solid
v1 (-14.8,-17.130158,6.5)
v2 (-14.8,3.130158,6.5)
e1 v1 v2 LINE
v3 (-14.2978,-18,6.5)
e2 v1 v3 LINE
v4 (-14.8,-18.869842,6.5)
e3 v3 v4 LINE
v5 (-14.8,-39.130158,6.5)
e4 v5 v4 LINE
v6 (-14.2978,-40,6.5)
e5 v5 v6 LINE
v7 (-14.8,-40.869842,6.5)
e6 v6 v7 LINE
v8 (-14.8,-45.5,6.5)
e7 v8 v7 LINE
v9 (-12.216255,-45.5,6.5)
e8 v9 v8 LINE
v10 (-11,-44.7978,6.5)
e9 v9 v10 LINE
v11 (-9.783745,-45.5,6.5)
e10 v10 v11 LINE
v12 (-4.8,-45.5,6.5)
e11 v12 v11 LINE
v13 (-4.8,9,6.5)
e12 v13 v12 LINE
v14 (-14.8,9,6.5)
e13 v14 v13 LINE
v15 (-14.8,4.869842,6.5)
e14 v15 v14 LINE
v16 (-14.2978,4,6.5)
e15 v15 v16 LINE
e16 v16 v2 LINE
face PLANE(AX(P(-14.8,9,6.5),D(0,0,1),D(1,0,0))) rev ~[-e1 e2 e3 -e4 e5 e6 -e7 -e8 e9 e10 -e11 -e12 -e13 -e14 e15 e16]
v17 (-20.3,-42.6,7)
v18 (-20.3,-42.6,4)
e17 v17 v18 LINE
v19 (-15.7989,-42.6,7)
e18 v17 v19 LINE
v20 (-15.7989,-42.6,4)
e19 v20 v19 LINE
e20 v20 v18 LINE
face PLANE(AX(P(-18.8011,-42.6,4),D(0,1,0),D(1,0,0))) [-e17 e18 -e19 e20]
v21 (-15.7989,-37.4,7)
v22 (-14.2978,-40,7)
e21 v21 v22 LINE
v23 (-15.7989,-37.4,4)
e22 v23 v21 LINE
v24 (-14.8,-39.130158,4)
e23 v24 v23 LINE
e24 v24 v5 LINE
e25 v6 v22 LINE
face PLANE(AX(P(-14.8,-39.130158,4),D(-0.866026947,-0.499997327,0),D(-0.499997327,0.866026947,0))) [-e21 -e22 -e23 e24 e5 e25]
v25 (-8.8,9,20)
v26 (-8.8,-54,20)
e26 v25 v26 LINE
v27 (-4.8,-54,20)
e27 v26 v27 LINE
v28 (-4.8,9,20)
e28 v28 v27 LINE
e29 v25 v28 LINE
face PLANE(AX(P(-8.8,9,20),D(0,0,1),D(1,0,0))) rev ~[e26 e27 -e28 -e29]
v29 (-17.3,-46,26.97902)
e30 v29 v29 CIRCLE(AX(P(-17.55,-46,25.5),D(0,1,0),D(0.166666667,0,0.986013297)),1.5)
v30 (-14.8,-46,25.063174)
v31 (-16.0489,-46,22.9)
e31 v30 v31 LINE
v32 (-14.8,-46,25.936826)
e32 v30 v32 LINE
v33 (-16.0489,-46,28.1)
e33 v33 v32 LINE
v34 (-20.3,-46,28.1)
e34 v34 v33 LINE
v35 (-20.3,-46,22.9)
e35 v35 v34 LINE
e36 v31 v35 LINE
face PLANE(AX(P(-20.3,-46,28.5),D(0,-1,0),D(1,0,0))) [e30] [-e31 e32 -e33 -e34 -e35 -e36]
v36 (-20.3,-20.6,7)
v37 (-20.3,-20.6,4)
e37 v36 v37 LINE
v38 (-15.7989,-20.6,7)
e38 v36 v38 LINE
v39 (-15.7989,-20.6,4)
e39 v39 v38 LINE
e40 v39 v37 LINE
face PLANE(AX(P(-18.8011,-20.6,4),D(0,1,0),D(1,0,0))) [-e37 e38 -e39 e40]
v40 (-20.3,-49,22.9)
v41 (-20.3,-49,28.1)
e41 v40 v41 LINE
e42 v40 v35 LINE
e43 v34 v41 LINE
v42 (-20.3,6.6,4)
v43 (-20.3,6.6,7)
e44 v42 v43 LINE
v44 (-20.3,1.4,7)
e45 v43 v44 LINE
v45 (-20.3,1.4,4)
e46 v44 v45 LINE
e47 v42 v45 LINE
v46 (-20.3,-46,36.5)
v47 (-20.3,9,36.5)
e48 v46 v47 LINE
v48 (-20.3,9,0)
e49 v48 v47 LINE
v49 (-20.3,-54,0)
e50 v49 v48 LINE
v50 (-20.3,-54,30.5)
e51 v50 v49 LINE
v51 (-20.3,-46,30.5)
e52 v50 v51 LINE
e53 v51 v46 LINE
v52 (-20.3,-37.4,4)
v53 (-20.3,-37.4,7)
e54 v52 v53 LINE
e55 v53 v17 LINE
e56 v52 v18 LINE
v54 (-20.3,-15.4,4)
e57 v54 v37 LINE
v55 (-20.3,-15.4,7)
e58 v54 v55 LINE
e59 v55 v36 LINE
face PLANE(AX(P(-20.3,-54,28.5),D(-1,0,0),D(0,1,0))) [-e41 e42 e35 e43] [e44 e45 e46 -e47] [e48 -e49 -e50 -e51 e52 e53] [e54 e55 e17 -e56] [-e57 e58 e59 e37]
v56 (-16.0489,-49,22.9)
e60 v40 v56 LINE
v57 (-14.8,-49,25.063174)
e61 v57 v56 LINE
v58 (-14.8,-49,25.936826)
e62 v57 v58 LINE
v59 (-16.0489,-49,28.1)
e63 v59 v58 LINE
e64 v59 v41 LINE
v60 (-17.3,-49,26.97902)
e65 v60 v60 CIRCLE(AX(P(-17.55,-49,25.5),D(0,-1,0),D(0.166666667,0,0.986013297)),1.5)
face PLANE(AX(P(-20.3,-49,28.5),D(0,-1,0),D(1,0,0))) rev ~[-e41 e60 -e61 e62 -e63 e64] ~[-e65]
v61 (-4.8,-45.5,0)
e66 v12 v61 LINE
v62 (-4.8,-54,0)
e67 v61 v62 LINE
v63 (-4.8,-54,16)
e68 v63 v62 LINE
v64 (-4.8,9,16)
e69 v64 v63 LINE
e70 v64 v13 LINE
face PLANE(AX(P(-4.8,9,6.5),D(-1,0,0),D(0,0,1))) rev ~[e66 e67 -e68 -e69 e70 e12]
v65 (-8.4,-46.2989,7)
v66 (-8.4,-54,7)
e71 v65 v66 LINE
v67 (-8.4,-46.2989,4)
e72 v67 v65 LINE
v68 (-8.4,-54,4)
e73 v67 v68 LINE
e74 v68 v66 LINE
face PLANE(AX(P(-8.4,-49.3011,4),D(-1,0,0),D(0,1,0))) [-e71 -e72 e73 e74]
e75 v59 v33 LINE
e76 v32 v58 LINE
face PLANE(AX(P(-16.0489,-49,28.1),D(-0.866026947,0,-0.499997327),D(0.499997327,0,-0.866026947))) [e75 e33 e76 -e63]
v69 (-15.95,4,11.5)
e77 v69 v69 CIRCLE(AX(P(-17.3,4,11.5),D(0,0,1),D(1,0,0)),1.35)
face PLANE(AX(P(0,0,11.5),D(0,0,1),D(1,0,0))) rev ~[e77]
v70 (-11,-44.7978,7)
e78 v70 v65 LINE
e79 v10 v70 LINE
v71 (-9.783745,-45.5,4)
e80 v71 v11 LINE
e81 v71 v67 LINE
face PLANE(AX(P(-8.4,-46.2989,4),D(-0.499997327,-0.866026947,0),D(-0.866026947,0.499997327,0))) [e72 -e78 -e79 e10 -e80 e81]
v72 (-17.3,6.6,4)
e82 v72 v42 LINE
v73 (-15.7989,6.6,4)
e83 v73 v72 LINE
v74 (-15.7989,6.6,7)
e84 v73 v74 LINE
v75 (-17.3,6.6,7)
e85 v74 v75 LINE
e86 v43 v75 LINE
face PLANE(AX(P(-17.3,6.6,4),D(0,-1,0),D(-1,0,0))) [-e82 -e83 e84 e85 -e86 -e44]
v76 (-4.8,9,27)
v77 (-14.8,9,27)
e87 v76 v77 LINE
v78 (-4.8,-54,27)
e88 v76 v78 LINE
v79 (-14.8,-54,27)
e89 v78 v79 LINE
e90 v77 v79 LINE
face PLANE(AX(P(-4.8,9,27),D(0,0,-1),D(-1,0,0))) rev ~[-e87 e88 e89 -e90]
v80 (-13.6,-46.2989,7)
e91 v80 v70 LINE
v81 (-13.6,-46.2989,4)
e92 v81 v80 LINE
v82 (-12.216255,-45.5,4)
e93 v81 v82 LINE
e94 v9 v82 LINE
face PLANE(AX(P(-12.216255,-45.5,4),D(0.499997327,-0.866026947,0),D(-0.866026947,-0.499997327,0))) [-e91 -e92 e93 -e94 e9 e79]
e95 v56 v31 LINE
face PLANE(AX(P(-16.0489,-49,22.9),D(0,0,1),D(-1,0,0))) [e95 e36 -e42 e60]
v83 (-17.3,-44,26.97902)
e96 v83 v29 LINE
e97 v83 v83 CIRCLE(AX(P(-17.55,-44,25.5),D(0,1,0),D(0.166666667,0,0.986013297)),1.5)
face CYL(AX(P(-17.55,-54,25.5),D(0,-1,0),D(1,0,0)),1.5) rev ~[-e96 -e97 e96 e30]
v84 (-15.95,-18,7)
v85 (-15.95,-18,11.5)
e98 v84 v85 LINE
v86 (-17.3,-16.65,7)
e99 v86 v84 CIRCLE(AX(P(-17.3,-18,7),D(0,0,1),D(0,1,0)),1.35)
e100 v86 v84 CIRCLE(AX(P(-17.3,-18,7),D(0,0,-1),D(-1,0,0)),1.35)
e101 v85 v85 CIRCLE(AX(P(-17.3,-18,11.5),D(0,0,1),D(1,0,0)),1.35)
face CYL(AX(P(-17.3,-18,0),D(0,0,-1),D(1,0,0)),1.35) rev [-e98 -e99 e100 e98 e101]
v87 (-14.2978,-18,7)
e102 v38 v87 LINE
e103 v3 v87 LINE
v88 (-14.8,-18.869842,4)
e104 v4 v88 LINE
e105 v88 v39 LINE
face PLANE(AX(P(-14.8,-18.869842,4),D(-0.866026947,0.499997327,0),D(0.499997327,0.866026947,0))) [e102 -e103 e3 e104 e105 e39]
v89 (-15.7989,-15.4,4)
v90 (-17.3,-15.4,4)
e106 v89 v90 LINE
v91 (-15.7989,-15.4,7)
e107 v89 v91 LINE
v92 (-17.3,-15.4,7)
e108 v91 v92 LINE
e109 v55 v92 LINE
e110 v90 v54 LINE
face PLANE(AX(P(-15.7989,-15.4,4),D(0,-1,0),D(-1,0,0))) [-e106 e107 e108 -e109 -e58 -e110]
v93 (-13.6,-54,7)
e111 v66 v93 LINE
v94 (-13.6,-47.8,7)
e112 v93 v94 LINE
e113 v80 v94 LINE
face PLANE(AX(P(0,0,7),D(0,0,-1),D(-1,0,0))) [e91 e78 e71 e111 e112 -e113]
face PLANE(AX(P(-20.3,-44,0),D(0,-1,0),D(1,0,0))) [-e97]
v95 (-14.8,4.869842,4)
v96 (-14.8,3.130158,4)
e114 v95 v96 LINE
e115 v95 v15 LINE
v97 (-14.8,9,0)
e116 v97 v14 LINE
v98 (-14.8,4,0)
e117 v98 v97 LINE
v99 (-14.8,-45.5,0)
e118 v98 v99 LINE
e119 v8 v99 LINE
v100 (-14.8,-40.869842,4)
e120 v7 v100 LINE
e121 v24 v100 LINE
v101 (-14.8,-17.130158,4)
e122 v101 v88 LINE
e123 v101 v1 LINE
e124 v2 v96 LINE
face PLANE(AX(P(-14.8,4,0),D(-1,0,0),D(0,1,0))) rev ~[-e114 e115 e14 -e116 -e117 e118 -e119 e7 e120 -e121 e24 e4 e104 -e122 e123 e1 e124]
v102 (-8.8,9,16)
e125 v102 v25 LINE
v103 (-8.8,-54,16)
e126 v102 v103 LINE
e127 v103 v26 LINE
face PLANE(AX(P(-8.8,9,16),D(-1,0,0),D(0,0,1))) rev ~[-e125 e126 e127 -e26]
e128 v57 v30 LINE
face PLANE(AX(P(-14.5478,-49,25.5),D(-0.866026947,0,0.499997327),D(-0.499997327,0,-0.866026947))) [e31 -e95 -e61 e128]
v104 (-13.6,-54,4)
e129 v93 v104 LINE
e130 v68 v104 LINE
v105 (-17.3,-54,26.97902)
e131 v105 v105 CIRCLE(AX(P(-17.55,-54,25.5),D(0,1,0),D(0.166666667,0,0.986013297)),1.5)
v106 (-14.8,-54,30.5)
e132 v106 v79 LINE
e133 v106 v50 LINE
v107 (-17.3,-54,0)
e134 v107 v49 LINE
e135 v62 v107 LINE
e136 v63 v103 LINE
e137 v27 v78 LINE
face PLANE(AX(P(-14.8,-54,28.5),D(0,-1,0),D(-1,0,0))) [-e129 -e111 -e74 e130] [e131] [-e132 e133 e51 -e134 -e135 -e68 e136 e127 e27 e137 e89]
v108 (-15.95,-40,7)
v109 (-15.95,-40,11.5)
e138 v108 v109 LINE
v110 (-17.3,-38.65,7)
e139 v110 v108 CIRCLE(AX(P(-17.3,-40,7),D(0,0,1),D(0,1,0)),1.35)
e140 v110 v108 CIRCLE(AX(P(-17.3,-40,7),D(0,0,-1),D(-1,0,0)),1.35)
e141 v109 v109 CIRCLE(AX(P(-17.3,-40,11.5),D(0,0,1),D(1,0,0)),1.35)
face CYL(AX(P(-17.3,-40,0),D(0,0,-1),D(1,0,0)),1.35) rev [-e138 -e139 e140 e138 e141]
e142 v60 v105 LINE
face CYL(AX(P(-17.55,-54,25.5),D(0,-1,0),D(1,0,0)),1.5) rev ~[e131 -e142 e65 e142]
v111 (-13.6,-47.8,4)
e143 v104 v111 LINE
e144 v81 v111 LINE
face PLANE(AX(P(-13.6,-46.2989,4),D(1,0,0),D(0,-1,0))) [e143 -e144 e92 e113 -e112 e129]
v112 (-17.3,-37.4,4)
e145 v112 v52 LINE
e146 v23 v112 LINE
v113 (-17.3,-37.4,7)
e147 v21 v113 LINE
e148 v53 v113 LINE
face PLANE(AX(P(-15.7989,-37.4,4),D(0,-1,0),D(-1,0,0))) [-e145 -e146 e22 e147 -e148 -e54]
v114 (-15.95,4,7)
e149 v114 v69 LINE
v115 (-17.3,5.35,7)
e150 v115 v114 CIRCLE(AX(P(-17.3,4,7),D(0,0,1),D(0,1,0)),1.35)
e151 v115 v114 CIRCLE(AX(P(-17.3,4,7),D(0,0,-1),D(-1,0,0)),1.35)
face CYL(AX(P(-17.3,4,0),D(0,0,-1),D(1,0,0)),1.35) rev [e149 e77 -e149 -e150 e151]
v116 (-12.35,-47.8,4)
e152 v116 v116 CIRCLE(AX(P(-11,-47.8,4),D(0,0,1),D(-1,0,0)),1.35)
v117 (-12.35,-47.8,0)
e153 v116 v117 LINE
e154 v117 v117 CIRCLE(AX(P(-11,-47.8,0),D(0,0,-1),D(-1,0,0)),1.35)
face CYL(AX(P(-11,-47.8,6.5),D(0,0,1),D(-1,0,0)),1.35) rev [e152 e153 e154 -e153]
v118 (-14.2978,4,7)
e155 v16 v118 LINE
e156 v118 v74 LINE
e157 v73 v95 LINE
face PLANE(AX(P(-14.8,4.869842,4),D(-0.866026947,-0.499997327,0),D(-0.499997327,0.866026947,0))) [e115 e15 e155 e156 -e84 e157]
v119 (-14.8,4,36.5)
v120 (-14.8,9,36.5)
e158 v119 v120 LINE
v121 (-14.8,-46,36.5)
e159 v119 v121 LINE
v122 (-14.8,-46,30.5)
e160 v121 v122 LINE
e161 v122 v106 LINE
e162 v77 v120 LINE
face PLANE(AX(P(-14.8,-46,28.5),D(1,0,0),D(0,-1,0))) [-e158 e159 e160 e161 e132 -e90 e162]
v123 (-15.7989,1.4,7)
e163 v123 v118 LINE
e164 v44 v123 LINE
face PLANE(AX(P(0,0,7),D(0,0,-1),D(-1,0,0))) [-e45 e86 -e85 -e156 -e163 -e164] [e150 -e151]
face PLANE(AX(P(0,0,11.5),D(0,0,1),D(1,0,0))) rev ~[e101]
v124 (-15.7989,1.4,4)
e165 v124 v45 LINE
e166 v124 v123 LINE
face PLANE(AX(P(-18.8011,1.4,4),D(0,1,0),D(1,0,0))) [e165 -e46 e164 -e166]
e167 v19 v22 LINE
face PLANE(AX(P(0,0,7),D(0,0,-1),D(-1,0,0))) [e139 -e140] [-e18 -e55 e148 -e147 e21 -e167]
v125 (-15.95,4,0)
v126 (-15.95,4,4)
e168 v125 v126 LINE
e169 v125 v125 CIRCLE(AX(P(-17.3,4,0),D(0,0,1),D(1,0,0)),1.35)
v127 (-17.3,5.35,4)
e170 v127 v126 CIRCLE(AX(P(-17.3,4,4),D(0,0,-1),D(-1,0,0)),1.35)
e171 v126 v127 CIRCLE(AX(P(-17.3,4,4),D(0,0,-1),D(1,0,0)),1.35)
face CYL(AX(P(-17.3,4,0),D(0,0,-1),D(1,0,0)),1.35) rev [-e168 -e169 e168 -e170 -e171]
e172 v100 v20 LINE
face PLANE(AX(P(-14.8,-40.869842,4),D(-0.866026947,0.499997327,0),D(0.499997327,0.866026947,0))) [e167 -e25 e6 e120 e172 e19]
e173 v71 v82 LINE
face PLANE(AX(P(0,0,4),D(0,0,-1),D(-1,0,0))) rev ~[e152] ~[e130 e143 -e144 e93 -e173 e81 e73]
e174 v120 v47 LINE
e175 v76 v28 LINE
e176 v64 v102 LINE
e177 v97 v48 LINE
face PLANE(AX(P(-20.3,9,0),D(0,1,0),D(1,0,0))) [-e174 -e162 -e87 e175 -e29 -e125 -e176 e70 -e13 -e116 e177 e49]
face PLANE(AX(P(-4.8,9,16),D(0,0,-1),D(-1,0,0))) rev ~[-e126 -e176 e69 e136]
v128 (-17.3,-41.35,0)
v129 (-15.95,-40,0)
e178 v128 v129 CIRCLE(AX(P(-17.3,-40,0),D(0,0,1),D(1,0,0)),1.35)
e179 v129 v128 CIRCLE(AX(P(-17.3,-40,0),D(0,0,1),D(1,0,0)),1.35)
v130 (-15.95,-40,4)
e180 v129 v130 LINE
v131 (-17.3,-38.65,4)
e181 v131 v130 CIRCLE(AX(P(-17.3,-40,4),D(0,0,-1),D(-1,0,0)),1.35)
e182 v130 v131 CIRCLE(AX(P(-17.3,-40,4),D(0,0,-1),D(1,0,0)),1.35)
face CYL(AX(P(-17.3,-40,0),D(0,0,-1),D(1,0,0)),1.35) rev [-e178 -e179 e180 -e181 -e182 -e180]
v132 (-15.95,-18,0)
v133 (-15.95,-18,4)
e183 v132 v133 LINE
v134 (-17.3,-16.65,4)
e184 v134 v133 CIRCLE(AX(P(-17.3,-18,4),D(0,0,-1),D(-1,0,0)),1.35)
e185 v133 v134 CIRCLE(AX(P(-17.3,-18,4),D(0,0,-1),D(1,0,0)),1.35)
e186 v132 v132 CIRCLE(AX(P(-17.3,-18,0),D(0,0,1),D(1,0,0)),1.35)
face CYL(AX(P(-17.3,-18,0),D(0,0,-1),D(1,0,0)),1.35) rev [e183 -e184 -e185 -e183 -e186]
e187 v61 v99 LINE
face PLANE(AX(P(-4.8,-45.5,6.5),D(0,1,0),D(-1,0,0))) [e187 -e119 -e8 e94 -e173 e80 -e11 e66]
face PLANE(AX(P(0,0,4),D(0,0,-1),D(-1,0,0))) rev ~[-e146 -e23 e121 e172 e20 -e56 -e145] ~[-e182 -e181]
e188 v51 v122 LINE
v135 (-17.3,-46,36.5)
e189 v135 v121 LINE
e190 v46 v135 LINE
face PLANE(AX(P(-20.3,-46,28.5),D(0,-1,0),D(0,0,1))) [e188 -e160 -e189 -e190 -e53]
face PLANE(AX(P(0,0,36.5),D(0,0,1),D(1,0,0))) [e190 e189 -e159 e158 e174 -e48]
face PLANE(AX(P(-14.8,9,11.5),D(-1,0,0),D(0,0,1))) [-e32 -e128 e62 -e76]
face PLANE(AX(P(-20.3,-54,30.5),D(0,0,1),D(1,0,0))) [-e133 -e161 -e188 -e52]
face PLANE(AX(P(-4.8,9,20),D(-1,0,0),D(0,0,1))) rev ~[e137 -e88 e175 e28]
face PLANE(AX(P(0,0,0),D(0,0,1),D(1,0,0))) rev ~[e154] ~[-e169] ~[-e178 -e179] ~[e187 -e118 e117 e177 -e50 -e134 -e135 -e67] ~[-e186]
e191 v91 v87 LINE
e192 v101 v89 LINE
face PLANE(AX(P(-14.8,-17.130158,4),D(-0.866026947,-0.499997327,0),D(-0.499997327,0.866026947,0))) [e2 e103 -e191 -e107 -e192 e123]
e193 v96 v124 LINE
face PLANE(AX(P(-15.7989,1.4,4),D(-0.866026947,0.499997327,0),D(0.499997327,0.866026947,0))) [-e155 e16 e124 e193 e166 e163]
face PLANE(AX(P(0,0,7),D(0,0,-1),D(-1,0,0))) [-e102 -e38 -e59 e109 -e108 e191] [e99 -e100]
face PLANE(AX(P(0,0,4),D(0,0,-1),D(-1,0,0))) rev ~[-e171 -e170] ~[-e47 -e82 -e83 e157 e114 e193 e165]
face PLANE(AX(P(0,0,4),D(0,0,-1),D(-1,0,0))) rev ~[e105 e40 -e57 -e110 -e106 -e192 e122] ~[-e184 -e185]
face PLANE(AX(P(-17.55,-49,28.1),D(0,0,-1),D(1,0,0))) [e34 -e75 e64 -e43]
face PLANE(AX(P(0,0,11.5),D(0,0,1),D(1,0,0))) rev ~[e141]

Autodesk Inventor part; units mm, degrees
ref_plane "Work Plane1" through (0, 0, 0) normal (0, 0, 1) x (1, 0, 0)
sketch "Sketch1" plane through (0, 0, 0) normal (0, 0, 1) x (1, 0, 0)
  circle A0 centre (-17.3, 4) radius 1.35 projected
  circle A1 centre (-17.3, -18) radius 1.35 projected
  circle A2 centre (-17.3, -40) radius 1.35 projected
  line L0 (-17.3, 4) -> (-14.8, 4)
  line L1 (-14.8, 4) -> (-14.8, 9)
  line L2 (-14.8, 9) -> (-20.3, 9)
  line L3 (-17.3, -40) -> (-17.3, -54)
  line L4 (-14.8, 4) -> (-14.8, -54)
  line L5 (-14.8, -54) -> (-17.3, -54)
  line L6 (-17.3, -54) -> (-20.3, -54)
  line L7 (-20.3, -54) -> (-20.3, 9)
  point P0 (0, 0)
  dimension "d0" = 2.5
  dimension "d1" = 5
  dimension "d2" = 5.5
  dimension "d3" = 14
extrude "Extrusion1" add sketch "Sketch1" along normal blind 36.5
sketch "Sketch2" plane through (-20.3, -54, 0) normal (0, -1, 0) x (1, 0, 0)
  line L0 (0, 0) -> (5.5, 0) projected
  line L1 (5.5, 0) -> (5.5, 36.5) projected
  line L2 (0, 36.5) -> (5.5, 36.5) projected
  line L3 (0, 0) -> (0, 36.5) projected
  line L4 (2.75, 36.5) -> (2.75, 25.5)
  circle A0 centre (2.75, 25.5) radius 1.5
  point P0 (20.3, 0)
  dimension "d6" = 11
  dimension "d7" = 3
extrude "Extrusion2" cut sketch "Sketch2" against normal blind 10 contours A0
sketch "Sketch3" plane through (-20.3, -54, 0) normal (-1, 0, 0) x (0, 0, 1)
  line L0 (0, 63) -> (0, 0) projected
  line L1 (0, 0) -> (36.5, 0) projected
  line L2 (36.5, 63) -> (36.5, 0) projected
  line L3 (0, 63) -> (36.5, 63) projected
  line L4 (0, 0) -> (36.5, 0) projected
  line L5 (36.5, 0) -> (28.5, 0)
  line L6 (28.5, 0) -> (28.5, 8)
  line L7 (28.5, 8) -> (36.5, 8)
  line L8 (36.5, 8) -> (36.5, 0)
  point P0 (0, 54)
  dimension "d10" = 8
  dimension "d11" = 8
extrude "Extrusion3" cut sketch "Sketch3" against normal blind 10 contours L6 L7 L2 L1
sketch "Sketch4" plane through (-20.3, 9, 0) normal (0, 1, 0) x (1, 0, 0)
  line L0 (5.5, 0) -> (0, 0) projected
  line L1 (0, 0) -> (0, -36.5) projected
  line L2 (5.5, -36.5) -> (0, -36.5) projected
  line L3 (5.5, 0) -> (5.5, -36.5) projected
  line L4 (6.8, -6) -> (8.8, -6) projected
  line L5 (6.8, -6) -> (5.5, -6)
  line L6 (5.5, -6) -> (5.5, -6.5)
  line L7 (5.5, 0) -> (5.5, -28.5) projected
  line L8 (5.5, -6.5) -> (15.5, -6.5)
  line L9 (15.5, -6.5) -> (15.5, -11.5)
  line L10 (15.5, -11.5) -> (5.5, -11.5)
  line L11 (5.5, -11.5) -> (5.5, -6.5)
  point P0 (20.3, 0)
  dimension "d14" = 0.5
  dimension "d15" = 10
  dimension "d16" = 5
extrude "Extrusion4" add sketch "Sketch4" against normal up to surface (63 mm away) contours L8 L9 L10 L3
sketch "Sketch5" plane through (-4.8, 9, 6.5) normal (0, 0, -1) x (-1, 0, 0)
  circle A0 centre (12.5, -49) radius 1.35 projected
  circle A1 centre (12.5, -27) radius 1.35 projected
  circle A2 centre (12.5, -5) radius 1.35 projected
  line L0 (10, -63) -> (10, 0) projected
  line L1 (15.5, -63) -> (10, -63) projected
  line L2 (15.5, 0) -> (15.5, -63) projected
  line L3 (10, 0) -> (15.5, 0) projected
  line L4 (0, -63) -> (10, -63) projected
  line L5 (10, 0) -> (10, -63) projected
  line L6 (0, 0) -> (10, 0) projected
  line L7 (0, 0) -> (0, -63) projected
  line L8 (-19.8, 5.5) -> (-16.3, 5.5) projected
  line L9 (-19.8, 5.5) -> (-24.9, -0.5) projected
  line L10 (-24.9, -0.5) -> (-24.9, -53.6) projected
  line L11 (-24.9, -53.6) -> (-19.8, -59.6) projected
  line L12 (-19.8, -59.6) -> (10.2, -59.6) projected
  line L13 (10.2, -59.6) -> (15.3, -53.6) projected
  line L14 (15.3, -53.6) -> (15.3, -0.5) projected
  line L15 (15.3, -0.5) -> (10.2, 5.5) projected
  line L16 (6.7, 5.5) -> (10.2, 5.5) projected
  arc A3 (9.7, 2.5) -> (6.7, 5.5) centre (6.7, 2.5) ccw projected
  line L17 (9.7, -51) -> (9.7, 2.5) projected
  arc A4 (6.7, -54) -> (9.7, -51) centre (6.7, -51) ccw projected
  line L18 (-16.3, -54) -> (6.7, -54) projected
  arc A5 (-19.3, -51) -> (-16.3, -54) centre (-16.3, -51) ccw projected
  line L19 (-19.3, 2.5) -> (-19.3, -51) projected
  arc A6 (-16.3, 5.5) -> (-19.3, 2.5) centre (-16.3, 2.5) ccw projected
  circle A7 centre (12.5, -5) radius 1.35 projected
  circle A8 centre (12.5, -27) radius 1.35 projected
  circle A9 centre (12.5, -49) radius 1.35 projected
  circle A10 centre (6.2, -56.8) radius 1.35 projected
  circle A11 centre (-22.1, -5) radius 1.35 projected
  circle A12 centre (-22.1, -27) radius 1.35 projected
  circle A13 centre (-22.1, -49) radius 1.35 projected
  circle A14 centre (-15.8, -56.8) radius 1.35 projected
  line L20 (10, 0) -> (10, -63) projected
  line L21 (10, -63) -> (0, -63)
  line L22 (0, -63) -> (0, -54.5)
  line L23 (0, -54.5) -> (10, -54.5)
  line L24 (10, -54.5) -> (10, -63)
  point P0 (-4.8, -9)
  dimension "d19" = 10
  dimension "d20" = 8.5
extrude "Extrusion5" add sketch "Sketch5" along normal up to surface (6.5 mm away) contours L0 L12 L7 L23 | L0 L4 L7 L12
ref_plane "Work Plane2" through (0, 0, 4) normal (0, 0, -1) x (-1, 0, 0)
sketch "Sketch6" plane through (0, 0, 4) normal (0, 0, -1) x (-1, 0, 0)
  circle A0 centre (17.3, 4) radius 1.35 projected
  circle A1 centre (17.3, -18) radius 1.35 projected
  circle A2 centre (11, -47.8) radius 1.35 projected
  circle A3 centre (17.3, -40) radius 1.35 projected
  circle A4 centre (17.3, -18) radius 1.35 projected
  circle A5 centre (17.3, 4) radius 1.35 projected
  line L0 (20.3, -54) -> (4.8, -54) projected
  line L1 (20.3, 9) -> (20.3, -54) projected
  line L2 (14.8, 9) -> (20.3, 9) projected
  line L3 (14.8, -45.5) -> (14.8, 9) projected
  line L4 (14.8, -45.5) -> (4.8, -45.5) projected
  line L5 (4.8, -45.5) -> (4.8, -54) projected
  circle A6 centre (11, -47.8) radius 1.35 projected
  circle A7 centre (11, -47.8) radius 1.35 projected
  line L6 (17.3, 4) -> (17.3, 6.6)
  line L7 (18.8011, 6.6) -> (20.3022, 4)
  line L8 (20.3022, 4) -> (18.8011, 1.4)
  line L9 (18.8011, 1.4) -> (15.7989, 1.4)
  line L10 (15.7989, 1.4) -> (14.2978, 4)
  line L11 (14.2978, 4) -> (15.7989, 6.6)
  line L12 (15.7989, 6.6) -> (18.8011, 6.6)
  line L13 (18.8011, 1.4) -> (28.5961, 1.4)
  line L14 (28.5961, 1.4) -> (28.5961, 6.6)
  line L15 (28.5961, 6.6) -> (18.8011, 6.6)
  line L16 (18.8011, 6.6) -> (18.8011, 1.4)
  line L17 (11, -47.8) -> (13.6, -47.8)
  line L18 (13.6, -49.3011) -> (11, -50.8022)
  line L19 (11, -50.8022) -> (8.4, -49.3011)
  line L20 (8.4, -49.3011) -> (8.4, -46.2989)
  line L21 (8.4, -46.2989) -> (11, -44.7978)
  line L22 (11, -44.7978) -> (13.6, -46.2989)
  line L23 (13.6, -46.2989) -> (13.6, -49.3011)
  line L24 (13.6, -49.3011) -> (8.4, -49.3011)
  line L25 (8.4, -49.3011) -> (8.4, -56.2377)
  line L26 (8.4, -56.2377) -> (13.6, -56.2377)
  line L27 (13.6, -56.2377) -> (13.6, -49.3011)
  line L28 (18.8011, -15.4) -> (20.3022, -18)
  line L29 (20.3022, -18) -> (18.8011, -20.6)
  line L30 (18.8011, -20.6) -> (28.5961, -20.6)
  line L31 (28.5961, -20.6) -> (28.5961, -15.4)
  line L32 (28.5961, -15.4) -> (18.8011, -15.4)
  line L33 (18.8011, -15.4) -> (18.8011, -20.6)
  line L34 (17.3, -18) -> (17.3, -15.4)
  line L35 (18.8011, -20.6) -> (15.7989, -20.6)
  line L36 (15.7989, -15.4) -> (18.8011, -15.4)
  line L37 (15.7989, -20.6) -> (14.2978, -18)
  line L38 (14.2978, -18) -> (15.7989, -15.4)
  line L39 (18.8011, -37.4) -> (20.3022, -40)
  line L40 (20.3022, -40) -> (18.8011, -42.6)
  line L41 (18.8011, -42.6) -> (28.5961, -42.6)
  line L42 (28.5961, -42.6) -> (28.5961, -37.4)
  line L43 (28.5961, -37.4) -> (18.8011, -37.4)
  line L44 (18.8011, -37.4) -> (18.8011, -42.6)
  line L45 (17.3, -40) -> (17.3, -37.4)
  line L46 (18.8011, -42.6) -> (15.7989, -42.6)
  line L47 (15.7989, -37.4) -> (18.8011, -37.4)
  line L48 (15.7989, -42.6) -> (14.2978, -40)
  line L49 (14.2978, -40) -> (15.7989, -37.4)
  point P0 (0, 0)
  dimension "d24" = 2.6
  dimension "d25" = 2.6
  dimension "d28" = 22
extrude "Extrusion6" cut sketch "Sketch6" against normal blind 3 contours L12 L16 L9 L10 L3 L11 | L15 L1 L7 | L7 L8 L16 | L3 L10 L11 | L1 L15 L14 L13 | L1 L13 L8 | L38 L36 L33 L35 L37 L3 | L3 L37 L38 | L32 L31 L30 L1 | L1 L28 L32 | L29 L33 L28 | L1 L30 L29 | L49 L47 L44 L46 L48 L3 | L3 L48 L49 | L43 L42 L41 L1 | L1 L39 L43 | L40 L44 L39 | L1 L41 L40 | A2 | L22 L23 L24 L20 L21 L4 | L4 L21 L22 | L27 L26 L25 L0 | L0 L25 L19 L18 L27 | L24 L18 L19
sketch "Sketch7" plane through (0, 0, 36.5) normal (0, 0, 1) x (1, 0, 0)
  line L0 (-20.3, -46) -> (-14.8, -46) projected
  line L1 (-14.8, -46) -> (-14.8, 9) projected
  line L2 (-14.8, 9) -> (-20.3, 9) projected
  line L3 (-20.3, 9) -> (-20.3, -46) projected
  circle A0 centre (-17.3, 4) radius 1.35 projected
  circle A1 centre (-17.3, -18) radius 1.35 projected
  circle A2 centre (-17.3, -40) radius 1.35 projected
  point P0 (0, 0)
extrude "Extrusion7" add sketch "Sketch7" against normal blind 25 contours A0 | A1 | A2
ref_plane "Work Plane3" through (-20.3, -49, 28.5) normal (0, -1, 0) x (1, 0, 0)
sketch "Sketch8" plane through (-20.3, -49, 28.5) normal (0, -1, 0) x (1, 0, 0)
  circle A0 centre (2.75, -3) radius 1.5 projected
  line L0 (2.75, -3) -> (2.75, -0.4)
  line L1 (4.2511, -0.4) -> (5.7522, -3)
  line L2 (5.7522, -3) -> (4.2511, -5.6)
  line L3 (4.2511, -5.6) -> (1.2489, -5.6)
  line L4 (1.2489, -5.6) -> (-0.2522, -3)
  line L5 (-0.2522, -3) -> (1.2489, -0.4)
  line L6 (1.2489, -0.4) -> (4.2511, -0.4)
  line L7 (1.2489, -0.4) -> (-2.7612, -0.4)
  line L8 (-2.7612, -0.4) -> (-2.7612, -5.6)
  line L9 (-2.7612, -5.6) -> (1.2489, -5.6)
  line L10 (1.2489, -5.6) -> (1.2489, -0.4)
  point P0 (20.3, -28.5)
  dimension "d38" = 2.6
extrude "Extrusion8" cut sketch "Sketch8" against normal blind 3 contours A0 L0 L6 L1 L2 L3 L10 | A0 L10 L6 L0 | L10 L4 L5 | L9 L8 L7 L5 L4
sketch "Sketch9" plane through (-20.3, 9, 0) normal (0, 1, 0) x (1, 0, 0)
  line L0 (5.5, 0) -> (0, 0) projected
  line L1 (0, 0) -> (0, -36.5) projected
  line L2 (5.5, -36.5) -> (0, -36.5) projected
  line L3 (5.5, -11.5) -> (5.5, -36.5) projected
  line L4 (5.5, -11.5) -> (15.5, -11.5) projected
  line L5 (15.5, -11.5) -> (15.5, -6.5) projected
  line L6 (15.5, -6.5) -> (5.5, -6.5) projected
  line L7 (5.5, 0) -> (5.5, -6.5) projected
  line L8 (5.5, -11.5) -> (15.5, -11.5) projected
  line L9 (5.5, -11.5) -> (5.5, -28.5) projected
  line L10 (15.5, -11.5) -> (5.5, -11.5)
  line L11 (5.5, -20) -> (15.5, -20)
  line L12 (5.5, -20) -> (11.5, -20)
  line L13 (5.5, -24) -> (5.5, -20)
  line L14 (15.5, -24) -> (15.5, -27)
  line L15 (15.5, -27) -> (5.5, -27)
  line L16 (5.5, -27) -> (5.5, -24)
  line L17 (5.5, -11.5) -> (15.5, -11.5)
  line L18 (15.5, -11.5) -> (15.5, -16)
  line L19 (15.5, -16) -> (5.5, -16)
  line L20 (5.5, -16) -> (5.5, -11.5)
  line L21 (5.5, -16) -> (11.5, -16)
  line L22 (11.5, -16) -> (11.5, -20)
  line L23 (11.5, -20) -> (5.5, -20)
  line L24 (5.5, -20) -> (5.5, -16)
  line L25 (5.5, -20) -> (15.5, -20)
  line L26 (15.5, -20) -> (15.5, -27)
  line L27 (15.5, -27) -> (5.5, -27)
  line L28 (5.5, -27) -> (5.5, -20)
  point P0 (20.3, 0)
  dimension "d41" = 8.5
  dimension "d44" = 10
  dimension "d45" = 3
  dimension "d48" = 4.5
extrude "Extrusion9" add sketch "Sketch9" against normal up to surface (63 mm away) contours L18 L19 L3 L4 | L3 L11 L26 L14 L15 | L19 L22 L11 L3
sketch "Sketch10" plane through (-20.3, -54, 28.5) normal (0, -1, 0) x (1, 0, 0)
  point P0 (20.3, -28.5)
sketch "Sketch11" plane through (-20.3, -54, 28.5) normal (0, 0, 1) x (1, 0, 0)
  line L0 (5.5, 8) -> (5.5, 0) projected
  line L1 (0, 8) -> (5.5, 8) projected
  line L2 (0, 0) -> (0, 8) projected
  line L3 (5.5, 0) -> (0, 0) projected
  point P0 (20.3, 54)
extrude "Extrusion10" add sketch "Sketch11" along normal blind 2
properties part number "side"
